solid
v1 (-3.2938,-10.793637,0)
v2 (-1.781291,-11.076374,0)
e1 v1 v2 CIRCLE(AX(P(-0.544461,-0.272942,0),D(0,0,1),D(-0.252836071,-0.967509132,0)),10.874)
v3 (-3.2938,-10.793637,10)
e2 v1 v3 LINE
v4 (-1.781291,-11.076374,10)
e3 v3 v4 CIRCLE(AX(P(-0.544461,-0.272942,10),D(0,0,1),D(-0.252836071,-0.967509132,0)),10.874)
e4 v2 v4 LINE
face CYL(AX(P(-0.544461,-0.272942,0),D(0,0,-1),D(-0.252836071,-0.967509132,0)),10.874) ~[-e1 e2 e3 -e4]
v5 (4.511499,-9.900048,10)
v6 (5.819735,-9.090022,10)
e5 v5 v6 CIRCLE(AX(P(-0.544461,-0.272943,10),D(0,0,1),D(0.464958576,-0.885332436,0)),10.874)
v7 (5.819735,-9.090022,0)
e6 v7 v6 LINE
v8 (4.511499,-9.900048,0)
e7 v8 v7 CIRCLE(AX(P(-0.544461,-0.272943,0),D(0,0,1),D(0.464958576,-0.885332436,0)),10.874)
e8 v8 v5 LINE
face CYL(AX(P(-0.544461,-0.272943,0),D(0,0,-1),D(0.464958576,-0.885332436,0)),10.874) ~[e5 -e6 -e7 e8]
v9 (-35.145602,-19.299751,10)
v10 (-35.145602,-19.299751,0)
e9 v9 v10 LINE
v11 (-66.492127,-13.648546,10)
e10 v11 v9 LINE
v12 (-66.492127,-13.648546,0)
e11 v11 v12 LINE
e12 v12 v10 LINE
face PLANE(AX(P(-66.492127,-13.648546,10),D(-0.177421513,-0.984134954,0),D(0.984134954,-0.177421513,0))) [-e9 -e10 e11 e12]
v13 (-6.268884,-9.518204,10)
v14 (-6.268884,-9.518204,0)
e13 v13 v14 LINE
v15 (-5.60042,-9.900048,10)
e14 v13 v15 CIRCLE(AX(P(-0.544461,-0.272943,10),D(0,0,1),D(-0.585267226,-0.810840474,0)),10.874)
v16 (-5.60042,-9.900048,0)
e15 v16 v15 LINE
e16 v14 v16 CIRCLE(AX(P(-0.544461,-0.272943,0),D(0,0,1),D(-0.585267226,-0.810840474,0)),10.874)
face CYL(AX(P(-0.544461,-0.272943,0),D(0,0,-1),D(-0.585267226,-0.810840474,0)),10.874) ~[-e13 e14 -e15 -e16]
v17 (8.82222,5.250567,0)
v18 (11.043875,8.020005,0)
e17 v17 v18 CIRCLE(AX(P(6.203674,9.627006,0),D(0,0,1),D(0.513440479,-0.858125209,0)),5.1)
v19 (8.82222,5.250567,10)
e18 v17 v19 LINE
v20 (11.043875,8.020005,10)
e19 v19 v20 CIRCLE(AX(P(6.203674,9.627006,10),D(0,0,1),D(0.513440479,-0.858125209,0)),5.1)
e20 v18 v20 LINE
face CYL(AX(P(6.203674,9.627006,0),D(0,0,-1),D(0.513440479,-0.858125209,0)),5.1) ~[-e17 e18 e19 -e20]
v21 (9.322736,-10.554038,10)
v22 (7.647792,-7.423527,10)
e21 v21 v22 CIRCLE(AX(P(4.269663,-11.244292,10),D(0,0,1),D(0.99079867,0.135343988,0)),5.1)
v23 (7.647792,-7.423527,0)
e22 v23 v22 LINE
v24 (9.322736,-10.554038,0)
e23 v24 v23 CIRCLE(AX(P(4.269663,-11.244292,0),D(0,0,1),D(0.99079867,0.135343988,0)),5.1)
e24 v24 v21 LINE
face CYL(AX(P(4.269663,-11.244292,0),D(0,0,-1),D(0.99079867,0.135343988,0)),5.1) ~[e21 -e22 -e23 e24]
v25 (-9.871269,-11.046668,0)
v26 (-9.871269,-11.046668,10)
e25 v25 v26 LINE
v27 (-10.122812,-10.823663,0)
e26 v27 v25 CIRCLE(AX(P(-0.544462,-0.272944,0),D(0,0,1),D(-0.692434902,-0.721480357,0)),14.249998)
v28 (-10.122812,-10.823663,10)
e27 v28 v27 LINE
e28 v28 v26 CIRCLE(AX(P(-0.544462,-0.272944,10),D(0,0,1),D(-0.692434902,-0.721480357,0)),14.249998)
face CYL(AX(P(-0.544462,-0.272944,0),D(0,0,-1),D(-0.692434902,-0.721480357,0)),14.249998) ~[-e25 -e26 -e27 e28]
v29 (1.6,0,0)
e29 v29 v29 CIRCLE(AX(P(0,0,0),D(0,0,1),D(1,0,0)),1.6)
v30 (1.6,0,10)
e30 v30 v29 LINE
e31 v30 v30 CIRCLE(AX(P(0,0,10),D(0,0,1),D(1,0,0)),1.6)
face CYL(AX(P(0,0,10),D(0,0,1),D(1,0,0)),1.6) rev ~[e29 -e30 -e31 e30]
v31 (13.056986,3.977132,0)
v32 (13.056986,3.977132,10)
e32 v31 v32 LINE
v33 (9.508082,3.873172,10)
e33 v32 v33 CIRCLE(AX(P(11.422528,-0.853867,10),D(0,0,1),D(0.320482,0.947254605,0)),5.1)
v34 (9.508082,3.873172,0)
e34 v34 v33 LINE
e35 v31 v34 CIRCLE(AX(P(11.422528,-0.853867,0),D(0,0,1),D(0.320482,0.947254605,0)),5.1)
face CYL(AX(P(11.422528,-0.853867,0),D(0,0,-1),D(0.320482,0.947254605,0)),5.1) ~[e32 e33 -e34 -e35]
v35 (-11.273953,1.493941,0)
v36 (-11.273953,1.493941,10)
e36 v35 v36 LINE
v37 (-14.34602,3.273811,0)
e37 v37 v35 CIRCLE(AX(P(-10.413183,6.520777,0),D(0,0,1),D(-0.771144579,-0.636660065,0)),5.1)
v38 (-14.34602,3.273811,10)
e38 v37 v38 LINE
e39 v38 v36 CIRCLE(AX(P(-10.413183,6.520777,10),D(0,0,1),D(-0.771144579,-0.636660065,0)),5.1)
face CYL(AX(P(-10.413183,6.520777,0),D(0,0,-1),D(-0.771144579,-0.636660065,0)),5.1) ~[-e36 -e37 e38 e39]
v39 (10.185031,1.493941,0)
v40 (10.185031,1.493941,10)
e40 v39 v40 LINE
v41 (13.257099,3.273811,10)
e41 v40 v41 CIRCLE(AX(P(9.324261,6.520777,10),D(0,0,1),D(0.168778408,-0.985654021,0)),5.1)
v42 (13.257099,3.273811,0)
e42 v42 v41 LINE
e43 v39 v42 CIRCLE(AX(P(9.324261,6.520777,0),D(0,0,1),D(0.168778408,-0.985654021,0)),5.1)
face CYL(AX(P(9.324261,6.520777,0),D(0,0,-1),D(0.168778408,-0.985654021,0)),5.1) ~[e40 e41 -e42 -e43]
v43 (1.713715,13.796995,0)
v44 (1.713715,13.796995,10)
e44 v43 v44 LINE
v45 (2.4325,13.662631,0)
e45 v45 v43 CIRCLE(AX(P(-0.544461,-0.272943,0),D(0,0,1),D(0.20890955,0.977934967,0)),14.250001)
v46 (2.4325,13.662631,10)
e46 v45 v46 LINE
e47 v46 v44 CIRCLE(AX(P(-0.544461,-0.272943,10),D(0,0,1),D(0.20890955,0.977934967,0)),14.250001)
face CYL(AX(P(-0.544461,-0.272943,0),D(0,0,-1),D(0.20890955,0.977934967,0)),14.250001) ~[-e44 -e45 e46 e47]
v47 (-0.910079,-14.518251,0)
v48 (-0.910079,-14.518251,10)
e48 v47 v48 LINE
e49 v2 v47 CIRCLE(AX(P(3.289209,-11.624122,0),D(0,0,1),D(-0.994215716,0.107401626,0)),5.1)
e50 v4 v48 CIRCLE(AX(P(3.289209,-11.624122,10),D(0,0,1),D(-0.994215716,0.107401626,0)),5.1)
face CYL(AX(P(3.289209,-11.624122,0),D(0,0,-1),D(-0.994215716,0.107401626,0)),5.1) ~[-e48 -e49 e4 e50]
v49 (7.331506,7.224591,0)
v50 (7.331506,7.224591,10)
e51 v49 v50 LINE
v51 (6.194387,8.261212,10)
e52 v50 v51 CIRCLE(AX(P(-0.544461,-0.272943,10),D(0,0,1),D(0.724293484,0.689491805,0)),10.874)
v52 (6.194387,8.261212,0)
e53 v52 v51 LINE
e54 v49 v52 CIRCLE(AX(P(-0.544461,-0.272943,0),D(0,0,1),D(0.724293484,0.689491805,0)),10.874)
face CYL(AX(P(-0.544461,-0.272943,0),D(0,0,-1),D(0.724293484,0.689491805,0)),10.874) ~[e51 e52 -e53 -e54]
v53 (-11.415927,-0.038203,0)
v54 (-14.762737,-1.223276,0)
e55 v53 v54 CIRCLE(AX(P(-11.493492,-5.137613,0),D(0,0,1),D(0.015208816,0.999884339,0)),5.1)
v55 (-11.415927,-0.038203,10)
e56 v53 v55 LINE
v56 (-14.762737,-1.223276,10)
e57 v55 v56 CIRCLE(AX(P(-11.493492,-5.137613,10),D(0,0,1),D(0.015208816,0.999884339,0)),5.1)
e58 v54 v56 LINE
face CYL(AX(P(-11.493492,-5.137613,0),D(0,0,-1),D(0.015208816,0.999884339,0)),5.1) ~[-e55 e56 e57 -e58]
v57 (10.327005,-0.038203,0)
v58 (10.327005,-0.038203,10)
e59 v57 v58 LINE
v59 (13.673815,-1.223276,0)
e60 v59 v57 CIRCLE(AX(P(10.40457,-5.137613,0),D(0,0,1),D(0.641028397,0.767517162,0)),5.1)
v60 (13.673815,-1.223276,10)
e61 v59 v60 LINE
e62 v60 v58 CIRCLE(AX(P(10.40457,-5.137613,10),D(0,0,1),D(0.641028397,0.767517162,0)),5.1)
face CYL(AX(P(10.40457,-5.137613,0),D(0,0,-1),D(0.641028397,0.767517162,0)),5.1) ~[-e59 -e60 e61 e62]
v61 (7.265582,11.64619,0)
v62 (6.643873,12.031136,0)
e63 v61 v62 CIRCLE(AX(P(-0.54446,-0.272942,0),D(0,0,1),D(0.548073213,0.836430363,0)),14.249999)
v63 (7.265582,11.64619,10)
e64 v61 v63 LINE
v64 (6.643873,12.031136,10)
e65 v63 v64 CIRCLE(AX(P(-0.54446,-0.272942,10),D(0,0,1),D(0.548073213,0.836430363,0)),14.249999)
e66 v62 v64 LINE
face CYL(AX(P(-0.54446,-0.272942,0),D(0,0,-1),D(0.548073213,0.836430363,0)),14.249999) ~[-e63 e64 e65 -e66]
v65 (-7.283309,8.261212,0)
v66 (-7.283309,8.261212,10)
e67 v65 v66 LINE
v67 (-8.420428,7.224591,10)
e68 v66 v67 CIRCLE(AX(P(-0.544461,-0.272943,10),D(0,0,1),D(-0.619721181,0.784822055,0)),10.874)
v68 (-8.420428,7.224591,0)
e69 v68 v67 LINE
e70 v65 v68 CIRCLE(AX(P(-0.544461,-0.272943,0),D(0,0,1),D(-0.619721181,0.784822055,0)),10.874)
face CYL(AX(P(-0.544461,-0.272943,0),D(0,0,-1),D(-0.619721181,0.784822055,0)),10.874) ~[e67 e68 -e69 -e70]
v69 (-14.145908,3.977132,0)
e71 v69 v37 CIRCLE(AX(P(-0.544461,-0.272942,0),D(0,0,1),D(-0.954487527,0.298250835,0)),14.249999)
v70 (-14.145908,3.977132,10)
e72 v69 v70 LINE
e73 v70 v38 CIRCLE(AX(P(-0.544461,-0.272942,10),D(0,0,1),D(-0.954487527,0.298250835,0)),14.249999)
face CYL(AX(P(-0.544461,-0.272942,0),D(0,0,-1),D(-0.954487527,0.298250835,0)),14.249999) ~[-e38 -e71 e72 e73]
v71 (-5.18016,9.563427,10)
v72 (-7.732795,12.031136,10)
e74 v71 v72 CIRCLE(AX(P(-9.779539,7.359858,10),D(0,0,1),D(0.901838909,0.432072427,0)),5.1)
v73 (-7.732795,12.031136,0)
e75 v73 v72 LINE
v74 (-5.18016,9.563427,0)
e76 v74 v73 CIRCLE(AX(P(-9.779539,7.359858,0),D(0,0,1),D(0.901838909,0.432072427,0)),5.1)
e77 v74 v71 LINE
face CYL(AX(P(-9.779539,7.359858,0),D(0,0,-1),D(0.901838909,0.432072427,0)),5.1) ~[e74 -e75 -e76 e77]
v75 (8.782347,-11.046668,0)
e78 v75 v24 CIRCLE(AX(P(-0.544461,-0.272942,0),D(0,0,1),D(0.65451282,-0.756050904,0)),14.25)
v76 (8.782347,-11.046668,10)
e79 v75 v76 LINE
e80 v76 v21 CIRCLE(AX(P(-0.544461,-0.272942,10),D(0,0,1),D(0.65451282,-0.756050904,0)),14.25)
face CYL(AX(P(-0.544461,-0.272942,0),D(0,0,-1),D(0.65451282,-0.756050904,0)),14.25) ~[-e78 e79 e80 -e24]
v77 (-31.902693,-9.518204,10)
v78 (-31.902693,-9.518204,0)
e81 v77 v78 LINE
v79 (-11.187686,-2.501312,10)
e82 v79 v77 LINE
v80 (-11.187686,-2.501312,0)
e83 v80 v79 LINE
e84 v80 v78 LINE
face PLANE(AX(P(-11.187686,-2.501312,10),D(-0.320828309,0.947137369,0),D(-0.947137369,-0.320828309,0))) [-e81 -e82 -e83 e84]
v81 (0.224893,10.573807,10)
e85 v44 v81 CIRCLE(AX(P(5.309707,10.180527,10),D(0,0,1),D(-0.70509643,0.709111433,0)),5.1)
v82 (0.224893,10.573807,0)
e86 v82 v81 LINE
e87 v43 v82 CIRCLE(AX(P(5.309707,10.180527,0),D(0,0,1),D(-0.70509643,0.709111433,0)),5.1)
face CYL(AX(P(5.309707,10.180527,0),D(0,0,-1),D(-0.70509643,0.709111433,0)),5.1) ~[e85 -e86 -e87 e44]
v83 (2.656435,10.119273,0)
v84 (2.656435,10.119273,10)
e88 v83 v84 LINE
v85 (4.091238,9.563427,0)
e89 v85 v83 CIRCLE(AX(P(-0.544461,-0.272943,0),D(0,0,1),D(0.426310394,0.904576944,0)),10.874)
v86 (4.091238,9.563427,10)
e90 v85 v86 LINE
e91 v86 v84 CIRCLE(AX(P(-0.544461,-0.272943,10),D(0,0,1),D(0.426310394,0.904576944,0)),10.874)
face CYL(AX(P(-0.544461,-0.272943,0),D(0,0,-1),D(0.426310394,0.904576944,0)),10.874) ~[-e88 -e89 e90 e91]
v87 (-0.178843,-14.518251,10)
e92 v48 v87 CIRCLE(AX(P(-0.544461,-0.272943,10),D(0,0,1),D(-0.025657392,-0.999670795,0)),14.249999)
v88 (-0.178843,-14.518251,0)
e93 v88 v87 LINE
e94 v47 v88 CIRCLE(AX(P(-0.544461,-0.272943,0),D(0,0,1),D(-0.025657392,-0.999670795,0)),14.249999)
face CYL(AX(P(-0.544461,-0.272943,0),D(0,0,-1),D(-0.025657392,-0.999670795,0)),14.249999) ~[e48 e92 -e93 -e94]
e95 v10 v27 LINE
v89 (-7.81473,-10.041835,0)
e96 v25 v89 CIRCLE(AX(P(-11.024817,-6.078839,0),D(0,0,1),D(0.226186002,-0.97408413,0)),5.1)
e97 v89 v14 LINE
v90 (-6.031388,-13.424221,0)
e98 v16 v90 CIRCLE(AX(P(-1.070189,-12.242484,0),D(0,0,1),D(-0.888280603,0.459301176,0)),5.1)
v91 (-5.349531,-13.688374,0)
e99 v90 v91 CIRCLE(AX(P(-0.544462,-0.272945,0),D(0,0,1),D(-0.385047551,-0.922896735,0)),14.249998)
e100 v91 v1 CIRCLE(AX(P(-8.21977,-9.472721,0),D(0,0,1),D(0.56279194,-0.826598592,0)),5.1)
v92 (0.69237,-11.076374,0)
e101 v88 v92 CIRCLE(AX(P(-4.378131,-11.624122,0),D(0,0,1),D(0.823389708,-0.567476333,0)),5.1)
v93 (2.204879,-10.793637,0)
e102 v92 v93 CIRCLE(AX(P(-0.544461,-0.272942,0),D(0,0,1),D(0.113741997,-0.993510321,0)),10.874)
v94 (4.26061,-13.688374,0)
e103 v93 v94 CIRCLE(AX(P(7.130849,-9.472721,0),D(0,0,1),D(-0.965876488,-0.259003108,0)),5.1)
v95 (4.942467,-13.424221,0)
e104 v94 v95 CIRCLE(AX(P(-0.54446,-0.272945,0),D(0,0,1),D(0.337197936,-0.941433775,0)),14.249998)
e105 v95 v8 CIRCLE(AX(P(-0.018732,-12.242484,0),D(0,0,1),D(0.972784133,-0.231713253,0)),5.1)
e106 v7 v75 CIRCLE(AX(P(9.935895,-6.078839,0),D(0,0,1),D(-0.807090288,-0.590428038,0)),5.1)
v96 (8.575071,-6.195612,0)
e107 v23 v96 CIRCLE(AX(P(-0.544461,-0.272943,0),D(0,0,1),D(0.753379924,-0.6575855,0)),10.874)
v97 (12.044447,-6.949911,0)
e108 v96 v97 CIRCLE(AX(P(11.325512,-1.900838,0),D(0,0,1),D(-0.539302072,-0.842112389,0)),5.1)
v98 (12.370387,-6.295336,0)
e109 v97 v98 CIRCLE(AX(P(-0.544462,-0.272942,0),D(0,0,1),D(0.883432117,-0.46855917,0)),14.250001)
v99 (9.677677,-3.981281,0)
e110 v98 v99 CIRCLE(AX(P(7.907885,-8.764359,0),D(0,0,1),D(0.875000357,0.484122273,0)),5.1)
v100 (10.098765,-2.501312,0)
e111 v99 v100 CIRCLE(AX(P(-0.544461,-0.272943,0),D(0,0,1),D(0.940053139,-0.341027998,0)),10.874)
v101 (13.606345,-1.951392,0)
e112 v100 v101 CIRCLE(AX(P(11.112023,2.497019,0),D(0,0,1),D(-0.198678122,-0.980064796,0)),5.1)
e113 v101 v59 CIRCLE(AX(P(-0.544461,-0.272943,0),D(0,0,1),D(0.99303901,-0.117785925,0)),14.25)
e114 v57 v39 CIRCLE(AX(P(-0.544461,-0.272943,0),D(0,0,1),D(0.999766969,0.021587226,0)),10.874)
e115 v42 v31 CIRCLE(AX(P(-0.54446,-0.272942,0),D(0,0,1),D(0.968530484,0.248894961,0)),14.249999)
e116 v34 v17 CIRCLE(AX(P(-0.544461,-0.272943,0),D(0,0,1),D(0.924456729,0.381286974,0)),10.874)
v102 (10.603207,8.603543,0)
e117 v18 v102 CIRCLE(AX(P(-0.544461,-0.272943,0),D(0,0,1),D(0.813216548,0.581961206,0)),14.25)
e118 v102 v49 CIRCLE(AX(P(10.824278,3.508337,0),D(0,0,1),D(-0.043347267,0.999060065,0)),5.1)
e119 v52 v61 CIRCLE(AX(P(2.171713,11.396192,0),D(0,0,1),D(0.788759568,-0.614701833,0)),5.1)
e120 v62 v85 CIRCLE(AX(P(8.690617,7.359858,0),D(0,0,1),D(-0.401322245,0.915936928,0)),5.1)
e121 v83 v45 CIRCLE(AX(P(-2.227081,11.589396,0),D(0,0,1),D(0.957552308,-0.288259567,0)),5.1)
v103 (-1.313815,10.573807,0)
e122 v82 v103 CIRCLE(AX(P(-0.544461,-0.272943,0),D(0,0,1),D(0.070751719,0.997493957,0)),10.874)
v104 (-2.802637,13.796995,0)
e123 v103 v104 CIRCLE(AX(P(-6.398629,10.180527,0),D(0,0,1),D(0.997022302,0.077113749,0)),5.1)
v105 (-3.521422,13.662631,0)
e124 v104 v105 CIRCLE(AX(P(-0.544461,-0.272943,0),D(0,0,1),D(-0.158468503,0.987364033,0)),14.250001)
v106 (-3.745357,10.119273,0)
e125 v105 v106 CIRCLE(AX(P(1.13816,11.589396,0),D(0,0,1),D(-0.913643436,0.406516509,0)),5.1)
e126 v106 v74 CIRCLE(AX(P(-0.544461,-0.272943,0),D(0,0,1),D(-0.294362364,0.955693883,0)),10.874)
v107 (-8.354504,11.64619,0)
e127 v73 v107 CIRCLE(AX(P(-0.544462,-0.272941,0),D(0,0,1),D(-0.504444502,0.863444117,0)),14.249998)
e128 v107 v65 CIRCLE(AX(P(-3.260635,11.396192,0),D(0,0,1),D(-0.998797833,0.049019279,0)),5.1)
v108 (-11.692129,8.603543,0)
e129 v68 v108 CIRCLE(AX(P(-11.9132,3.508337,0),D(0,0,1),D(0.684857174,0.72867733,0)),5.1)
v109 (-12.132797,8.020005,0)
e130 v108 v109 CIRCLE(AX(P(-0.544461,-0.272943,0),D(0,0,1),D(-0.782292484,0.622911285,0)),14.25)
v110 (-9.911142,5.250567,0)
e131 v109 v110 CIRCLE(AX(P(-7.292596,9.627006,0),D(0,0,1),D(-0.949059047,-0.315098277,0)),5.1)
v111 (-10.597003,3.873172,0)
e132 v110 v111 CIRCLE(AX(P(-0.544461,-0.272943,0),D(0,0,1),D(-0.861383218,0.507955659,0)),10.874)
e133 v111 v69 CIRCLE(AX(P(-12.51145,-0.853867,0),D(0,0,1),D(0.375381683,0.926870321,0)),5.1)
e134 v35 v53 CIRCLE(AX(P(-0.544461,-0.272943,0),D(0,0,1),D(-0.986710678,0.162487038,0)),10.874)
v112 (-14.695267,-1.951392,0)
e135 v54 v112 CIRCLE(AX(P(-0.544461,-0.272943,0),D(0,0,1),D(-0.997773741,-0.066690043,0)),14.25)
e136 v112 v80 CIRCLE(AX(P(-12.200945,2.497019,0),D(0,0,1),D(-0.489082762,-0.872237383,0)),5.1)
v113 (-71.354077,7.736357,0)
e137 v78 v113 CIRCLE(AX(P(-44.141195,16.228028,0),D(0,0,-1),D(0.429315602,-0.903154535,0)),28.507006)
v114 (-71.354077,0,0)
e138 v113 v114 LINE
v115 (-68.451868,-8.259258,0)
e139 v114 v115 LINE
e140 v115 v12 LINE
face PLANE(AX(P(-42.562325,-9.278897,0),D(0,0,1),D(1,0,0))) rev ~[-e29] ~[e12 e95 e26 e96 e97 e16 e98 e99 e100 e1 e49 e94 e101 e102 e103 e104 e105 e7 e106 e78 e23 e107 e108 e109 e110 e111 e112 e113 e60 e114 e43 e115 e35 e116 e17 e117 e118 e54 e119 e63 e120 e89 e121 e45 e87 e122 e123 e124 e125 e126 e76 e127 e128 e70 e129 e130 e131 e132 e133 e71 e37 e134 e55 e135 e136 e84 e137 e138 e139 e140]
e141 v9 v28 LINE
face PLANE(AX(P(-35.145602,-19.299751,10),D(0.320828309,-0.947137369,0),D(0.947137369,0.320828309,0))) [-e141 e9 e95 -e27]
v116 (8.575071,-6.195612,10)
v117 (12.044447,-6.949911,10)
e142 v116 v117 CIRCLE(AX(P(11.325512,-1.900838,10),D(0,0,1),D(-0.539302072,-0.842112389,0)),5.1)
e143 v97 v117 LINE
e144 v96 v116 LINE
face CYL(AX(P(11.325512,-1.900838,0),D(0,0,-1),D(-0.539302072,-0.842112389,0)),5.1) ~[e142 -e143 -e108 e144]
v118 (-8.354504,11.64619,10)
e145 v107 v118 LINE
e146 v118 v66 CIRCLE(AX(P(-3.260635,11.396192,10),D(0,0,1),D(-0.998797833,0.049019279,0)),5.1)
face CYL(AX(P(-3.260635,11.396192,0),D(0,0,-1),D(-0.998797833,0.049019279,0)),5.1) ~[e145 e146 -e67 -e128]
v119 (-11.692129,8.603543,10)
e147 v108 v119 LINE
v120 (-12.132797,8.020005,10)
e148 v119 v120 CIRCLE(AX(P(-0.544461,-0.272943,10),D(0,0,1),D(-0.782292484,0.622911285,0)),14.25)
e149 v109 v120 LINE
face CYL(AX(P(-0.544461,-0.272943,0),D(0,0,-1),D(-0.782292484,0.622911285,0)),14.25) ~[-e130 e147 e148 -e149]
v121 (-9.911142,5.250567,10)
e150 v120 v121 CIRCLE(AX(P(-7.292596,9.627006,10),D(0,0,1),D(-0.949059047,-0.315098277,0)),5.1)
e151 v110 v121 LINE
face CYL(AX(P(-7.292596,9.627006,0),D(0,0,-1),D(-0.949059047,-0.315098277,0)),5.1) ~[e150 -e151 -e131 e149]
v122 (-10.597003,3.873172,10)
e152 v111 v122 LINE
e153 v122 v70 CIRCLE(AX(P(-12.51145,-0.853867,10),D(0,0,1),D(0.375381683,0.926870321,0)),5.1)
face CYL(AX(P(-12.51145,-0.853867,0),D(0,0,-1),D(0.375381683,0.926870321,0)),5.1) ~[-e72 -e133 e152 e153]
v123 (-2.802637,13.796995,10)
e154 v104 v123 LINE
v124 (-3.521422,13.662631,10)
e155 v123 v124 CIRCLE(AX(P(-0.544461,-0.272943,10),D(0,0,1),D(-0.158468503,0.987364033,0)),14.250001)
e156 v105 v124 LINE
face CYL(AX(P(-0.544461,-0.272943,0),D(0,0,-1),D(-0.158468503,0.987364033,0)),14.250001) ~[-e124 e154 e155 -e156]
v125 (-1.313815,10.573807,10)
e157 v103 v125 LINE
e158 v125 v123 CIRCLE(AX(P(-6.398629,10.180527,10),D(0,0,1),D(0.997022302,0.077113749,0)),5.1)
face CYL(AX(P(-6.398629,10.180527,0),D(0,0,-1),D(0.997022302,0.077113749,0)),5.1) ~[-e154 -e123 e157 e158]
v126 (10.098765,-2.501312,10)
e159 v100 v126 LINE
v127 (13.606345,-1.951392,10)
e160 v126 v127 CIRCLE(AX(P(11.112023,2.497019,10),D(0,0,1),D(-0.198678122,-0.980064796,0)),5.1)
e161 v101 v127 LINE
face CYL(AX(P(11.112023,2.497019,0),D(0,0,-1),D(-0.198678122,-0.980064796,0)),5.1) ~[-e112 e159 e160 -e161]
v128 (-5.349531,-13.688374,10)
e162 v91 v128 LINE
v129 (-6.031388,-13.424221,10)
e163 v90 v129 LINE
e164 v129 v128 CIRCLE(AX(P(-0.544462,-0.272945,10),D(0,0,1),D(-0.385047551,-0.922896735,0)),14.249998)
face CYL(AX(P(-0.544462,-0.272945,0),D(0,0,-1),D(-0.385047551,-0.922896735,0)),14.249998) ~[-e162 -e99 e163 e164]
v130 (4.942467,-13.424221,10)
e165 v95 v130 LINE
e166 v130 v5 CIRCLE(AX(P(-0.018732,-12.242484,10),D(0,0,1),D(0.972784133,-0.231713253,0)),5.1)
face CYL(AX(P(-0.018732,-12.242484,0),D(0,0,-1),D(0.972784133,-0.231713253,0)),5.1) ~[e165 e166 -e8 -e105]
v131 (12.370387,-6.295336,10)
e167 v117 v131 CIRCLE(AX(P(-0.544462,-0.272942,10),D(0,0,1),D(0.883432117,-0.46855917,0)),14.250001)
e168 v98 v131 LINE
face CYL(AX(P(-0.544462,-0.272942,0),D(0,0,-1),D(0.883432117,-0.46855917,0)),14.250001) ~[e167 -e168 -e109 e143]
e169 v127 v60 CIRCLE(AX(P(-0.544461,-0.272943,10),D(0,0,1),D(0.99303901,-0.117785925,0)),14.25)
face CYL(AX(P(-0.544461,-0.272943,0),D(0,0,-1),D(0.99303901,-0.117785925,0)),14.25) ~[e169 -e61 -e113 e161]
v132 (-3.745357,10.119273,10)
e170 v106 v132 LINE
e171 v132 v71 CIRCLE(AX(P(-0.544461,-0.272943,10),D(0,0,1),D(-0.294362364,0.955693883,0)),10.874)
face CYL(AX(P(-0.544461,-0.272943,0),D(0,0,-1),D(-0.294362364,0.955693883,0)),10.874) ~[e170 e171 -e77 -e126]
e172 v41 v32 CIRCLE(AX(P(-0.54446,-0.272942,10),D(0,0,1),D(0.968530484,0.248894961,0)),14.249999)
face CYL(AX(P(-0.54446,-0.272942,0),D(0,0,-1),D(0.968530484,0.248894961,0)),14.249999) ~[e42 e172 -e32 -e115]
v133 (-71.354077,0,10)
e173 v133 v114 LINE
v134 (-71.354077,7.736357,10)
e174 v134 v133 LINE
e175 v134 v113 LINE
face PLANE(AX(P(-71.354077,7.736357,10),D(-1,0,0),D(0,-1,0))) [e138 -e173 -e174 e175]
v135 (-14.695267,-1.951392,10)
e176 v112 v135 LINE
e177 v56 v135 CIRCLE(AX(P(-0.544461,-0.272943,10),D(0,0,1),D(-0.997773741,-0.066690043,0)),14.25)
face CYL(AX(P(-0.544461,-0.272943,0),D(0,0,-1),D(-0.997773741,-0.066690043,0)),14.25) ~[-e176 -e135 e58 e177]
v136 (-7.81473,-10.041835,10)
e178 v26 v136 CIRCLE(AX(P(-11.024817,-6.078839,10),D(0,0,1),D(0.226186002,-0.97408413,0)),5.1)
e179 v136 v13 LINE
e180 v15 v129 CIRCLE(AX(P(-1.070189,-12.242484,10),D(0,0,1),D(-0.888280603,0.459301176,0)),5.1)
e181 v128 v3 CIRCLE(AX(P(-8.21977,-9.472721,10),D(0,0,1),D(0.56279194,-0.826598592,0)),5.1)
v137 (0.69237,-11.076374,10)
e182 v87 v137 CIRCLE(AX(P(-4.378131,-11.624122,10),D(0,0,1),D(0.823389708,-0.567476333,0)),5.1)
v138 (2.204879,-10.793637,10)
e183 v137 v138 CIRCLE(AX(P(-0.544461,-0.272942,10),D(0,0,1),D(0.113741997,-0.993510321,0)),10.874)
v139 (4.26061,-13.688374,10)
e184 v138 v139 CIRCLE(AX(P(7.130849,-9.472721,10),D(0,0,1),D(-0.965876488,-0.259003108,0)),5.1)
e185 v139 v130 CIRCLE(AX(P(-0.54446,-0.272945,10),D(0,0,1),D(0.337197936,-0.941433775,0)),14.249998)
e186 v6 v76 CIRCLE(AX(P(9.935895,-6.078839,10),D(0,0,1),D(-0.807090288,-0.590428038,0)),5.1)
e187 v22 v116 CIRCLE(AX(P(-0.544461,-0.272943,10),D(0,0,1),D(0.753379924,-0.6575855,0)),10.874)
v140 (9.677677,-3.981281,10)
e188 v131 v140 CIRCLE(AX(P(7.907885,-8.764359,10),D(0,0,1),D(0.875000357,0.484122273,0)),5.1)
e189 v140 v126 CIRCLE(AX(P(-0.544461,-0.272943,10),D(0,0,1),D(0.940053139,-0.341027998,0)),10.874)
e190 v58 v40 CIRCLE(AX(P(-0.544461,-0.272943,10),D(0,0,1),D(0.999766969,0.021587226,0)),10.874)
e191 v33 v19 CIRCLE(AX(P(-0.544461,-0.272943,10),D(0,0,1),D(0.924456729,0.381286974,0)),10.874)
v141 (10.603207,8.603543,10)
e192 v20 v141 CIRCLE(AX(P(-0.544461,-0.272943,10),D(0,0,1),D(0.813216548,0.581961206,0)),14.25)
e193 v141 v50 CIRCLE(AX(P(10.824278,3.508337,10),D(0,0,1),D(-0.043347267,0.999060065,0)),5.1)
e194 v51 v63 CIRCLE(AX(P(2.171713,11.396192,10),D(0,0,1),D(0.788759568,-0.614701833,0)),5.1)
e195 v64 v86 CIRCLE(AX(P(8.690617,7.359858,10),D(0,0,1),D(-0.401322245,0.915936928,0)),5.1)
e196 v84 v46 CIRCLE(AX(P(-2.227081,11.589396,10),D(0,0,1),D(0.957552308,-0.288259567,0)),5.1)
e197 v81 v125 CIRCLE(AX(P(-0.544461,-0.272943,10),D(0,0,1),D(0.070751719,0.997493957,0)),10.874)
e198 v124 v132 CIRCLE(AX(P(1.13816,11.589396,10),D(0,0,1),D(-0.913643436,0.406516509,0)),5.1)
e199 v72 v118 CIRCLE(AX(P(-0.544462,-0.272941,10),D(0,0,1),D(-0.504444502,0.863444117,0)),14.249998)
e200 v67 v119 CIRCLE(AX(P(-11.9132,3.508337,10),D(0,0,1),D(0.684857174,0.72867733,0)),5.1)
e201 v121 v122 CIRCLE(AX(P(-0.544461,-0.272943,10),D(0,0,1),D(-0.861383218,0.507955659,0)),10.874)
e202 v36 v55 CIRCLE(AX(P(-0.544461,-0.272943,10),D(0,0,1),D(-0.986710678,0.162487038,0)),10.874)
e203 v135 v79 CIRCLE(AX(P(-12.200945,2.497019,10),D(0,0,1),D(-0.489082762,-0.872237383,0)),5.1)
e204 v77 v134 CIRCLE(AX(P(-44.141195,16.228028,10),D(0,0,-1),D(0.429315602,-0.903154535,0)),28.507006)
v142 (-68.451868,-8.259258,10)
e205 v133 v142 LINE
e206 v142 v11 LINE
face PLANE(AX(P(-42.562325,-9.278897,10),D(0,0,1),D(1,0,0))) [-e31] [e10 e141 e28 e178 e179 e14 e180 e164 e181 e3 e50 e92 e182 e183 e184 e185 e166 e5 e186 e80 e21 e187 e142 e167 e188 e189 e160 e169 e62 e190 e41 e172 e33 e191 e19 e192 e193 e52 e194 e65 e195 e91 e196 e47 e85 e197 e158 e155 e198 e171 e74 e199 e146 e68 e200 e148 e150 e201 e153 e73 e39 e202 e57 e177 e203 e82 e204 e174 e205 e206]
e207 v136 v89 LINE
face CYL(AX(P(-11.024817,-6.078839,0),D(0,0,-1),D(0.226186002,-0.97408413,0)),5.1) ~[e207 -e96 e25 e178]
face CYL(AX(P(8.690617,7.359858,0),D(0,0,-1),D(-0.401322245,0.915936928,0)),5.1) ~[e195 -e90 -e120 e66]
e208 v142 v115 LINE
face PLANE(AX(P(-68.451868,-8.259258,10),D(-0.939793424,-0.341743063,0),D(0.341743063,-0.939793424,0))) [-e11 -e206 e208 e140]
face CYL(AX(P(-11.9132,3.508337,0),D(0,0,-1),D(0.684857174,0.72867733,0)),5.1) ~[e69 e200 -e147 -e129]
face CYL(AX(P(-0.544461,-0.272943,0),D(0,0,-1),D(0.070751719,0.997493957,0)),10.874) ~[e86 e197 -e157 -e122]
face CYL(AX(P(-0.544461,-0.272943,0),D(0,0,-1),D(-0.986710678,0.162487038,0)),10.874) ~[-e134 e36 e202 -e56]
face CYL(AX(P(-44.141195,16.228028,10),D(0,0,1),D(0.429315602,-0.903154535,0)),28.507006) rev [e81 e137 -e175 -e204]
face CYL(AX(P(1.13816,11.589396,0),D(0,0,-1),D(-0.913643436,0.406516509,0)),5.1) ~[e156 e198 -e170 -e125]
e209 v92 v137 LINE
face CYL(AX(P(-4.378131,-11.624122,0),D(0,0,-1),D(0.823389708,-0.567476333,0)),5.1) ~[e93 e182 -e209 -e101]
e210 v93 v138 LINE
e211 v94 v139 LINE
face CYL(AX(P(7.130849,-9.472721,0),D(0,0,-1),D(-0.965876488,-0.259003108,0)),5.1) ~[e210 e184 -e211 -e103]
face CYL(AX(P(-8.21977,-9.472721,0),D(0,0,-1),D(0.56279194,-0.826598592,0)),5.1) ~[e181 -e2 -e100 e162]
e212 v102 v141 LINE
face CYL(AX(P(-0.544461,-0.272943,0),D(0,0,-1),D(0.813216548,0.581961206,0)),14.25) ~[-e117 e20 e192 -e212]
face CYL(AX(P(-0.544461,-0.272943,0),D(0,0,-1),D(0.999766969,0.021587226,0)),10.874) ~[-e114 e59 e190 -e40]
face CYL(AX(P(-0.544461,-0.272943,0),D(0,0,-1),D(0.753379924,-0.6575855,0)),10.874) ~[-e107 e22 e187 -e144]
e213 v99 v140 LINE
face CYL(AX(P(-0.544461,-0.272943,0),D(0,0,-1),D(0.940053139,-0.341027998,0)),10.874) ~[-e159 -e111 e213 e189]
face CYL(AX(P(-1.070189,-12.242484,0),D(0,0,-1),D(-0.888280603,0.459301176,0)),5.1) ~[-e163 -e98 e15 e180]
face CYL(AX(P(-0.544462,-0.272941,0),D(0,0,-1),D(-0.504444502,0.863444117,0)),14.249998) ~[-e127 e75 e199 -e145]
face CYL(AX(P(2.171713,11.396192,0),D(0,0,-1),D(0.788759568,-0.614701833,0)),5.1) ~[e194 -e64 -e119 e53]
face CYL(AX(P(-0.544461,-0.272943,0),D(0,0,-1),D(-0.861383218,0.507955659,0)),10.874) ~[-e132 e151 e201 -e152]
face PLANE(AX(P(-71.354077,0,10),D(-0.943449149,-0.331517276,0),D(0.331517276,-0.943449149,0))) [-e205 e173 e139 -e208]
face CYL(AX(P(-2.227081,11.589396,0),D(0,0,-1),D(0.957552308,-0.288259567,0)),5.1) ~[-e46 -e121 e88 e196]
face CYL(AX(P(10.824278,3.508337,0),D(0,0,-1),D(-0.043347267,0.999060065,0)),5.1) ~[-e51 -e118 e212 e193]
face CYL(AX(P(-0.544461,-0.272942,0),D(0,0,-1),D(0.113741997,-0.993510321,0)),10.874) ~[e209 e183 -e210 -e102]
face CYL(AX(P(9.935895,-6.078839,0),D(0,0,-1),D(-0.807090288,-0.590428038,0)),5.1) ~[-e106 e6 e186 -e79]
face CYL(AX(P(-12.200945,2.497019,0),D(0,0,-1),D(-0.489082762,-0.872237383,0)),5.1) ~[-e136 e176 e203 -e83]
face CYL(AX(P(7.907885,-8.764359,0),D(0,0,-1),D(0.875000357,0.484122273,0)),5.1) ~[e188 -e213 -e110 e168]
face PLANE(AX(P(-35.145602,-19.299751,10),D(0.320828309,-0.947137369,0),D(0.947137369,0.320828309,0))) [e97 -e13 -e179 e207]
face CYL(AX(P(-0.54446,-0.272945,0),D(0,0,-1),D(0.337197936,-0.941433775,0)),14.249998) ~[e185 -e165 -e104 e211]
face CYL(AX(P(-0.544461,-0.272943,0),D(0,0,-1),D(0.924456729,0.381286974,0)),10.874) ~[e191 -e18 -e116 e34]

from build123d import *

# Parameters (mm, degrees)
EXTRUDE_1_DEPTH     = 10
SKETCH_2_R          = 1.6
CUT_EXTRUDE_1_DEPTH = 10
EXTRUDE_2_DEPTH     = 10


with BuildPart() as part:
    # 草图1 → 凸台-拉伸1 (new body)
    with BuildSketch(Plane.XY):
        with BuildLine():
            ThreePointArc((-14.346020253, 3.273810573), (-12.969870434, 2.10791515), (-11.273952779, 1.493941396))
            ThreePointArc((-11.273952779, 1.493941396), (-11.372074296, 0.730383496), (-11.41592688, -0.03820316))
            ThreePointArc((-11.41592688, -0.03820316), (-13.195785695, -0.330098793), (-14.762736671, -1.223275765))
            ThreePointArc((-14.762736671, -1.223275765), (-14.733672875, -1.587766767), (-14.695266759, -1.951392075))
            ThreePointArc((-14.695266759, -1.951392075), (-12.990875263, -2.541434526), (-11.187686245, -2.501311882))
            ThreePointArc((-11.187686245, -2.501311882), (-11.003352906, -3.248753999), (-10.766598699, -3.981281092))
            ThreePointArc((-10.766598699, -3.981281092), (-12.320822752, -4.896424828), (-13.459308284, -6.295335531))
            ThreePointArc((-13.459308284, -6.295335531), (-13.300537764, -6.624714214), (-13.133368515, -6.949910827))
            ThreePointArc((-13.133368515, -6.949910827), (-11.33092286, -6.884411803), (-9.663993147, -6.195611546))
            ThreePointArc((-9.663993147, -6.195611546), (-9.222100192, -6.825991681), (-8.736714161, -7.423527369))
            ThreePointArc((-8.736714161, -7.423527369), (-9.855396881, -8.838323974), (-10.411658189, -10.554037767))
            ThreePointArc((-10.411658189, -10.554037767), (-10.144623785, -10.803819715), (-9.871268536, -11.046668027))
            ThreePointArc((-9.871268536, -11.046668027), (-8.214198994, -10.334473534), (-6.908656681, -9.090021956))
            ThreePointArc((-6.908656681, -9.090021956), (-6.268884202, -9.518203778), (-5.600420419, -9.900047555))
            ThreePointArc((-5.600420419, -9.900047555), (-6.132477506, -11.62342091), (-6.031388419, -13.424221137))
            ThreePointArc((-6.031388419, -13.424221137), (-5.692154606, -13.560671914), (-5.349531499, -13.688373915))
            ThreePointArc((-5.349531499, -13.688373915), (-4.061634494, -12.425669766), (-3.293800304, -10.793636948))
            ThreePointArc((-3.293800304, -10.793636948), (-2.542553119, -10.96179213), (-1.781291324, -11.076373878))
            ThreePointArc((-1.781291324, -11.076373878), (-1.65486552, -12.87557286), (-0.910078679, -14.518251473))
            ThreePointArc((-0.910078679, -14.518251473), (-0.544460863, -14.522942645), (-0.178843046, -14.518251473))
            ThreePointArc((-0.178843046, -14.518251473), (0.565943794, -12.87557286), (0.692369599, -11.076373878))
            ThreePointArc((0.692369599, -11.076373878), (1.453631394, -10.96179213), (2.204878579, -10.793636948))
            ThreePointArc((2.204878579, -10.793636948), (2.972712769, -12.425669766), (4.260609774, -13.688373915))
            ThreePointArc((4.260609774, -13.688373915), (4.603232881, -13.560671914), (4.942466694, -13.424221137))
            ThreePointArc((4.942466694, -13.424221137), (5.043555781, -11.62342091), (4.511498694, -9.900047555))
            ThreePointArc((4.511498694, -9.900047555), (5.179962477, -9.518203778), (5.819734956, -9.090021956))
            ThreePointArc((5.819734956, -9.090021956), (7.125277269, -10.334473534), (8.782346811, -11.046668027))
            ThreePointArc((8.782346811, -11.046668027), (9.055702059, -10.803819715), (9.322736464, -10.554037767))
            ThreePointArc((9.322736464, -10.554037767), (8.766475155, -8.838323974), (7.647792436, -7.423527369))
            ThreePointArc((7.647792436, -7.423527369), (8.133178467, -6.825991681), (8.575071422, -6.195611546))
            ThreePointArc((8.575071422, -6.195611546), (10.242001135, -6.884411803), (12.04444679, -6.949910827))
            ThreePointArc((12.04444679, -6.949910827), (12.211616039, -6.624714214), (12.370386559, -6.295335531))
            ThreePointArc((12.370386559, -6.295335531), (11.231901027, -4.896424828), (9.677676974, -3.981281092))
            ThreePointArc((9.677676974, -3.981281092), (9.914431181, -3.248753999), (10.09876452, -2.501311882))
            ThreePointArc((10.09876452, -2.501311882), (11.901953538, -2.541434526), (13.606345034, -1.951392075))
            ThreePointArc((13.606345034, -1.951392075), (13.64475115, -1.587766767), (13.673814946, -1.223275765))
            ThreePointArc((13.673814946, -1.223275765), (12.10686397, -0.330098793), (10.327005155, -0.03820316))
            ThreePointArc((10.327005155, -0.03820316), (10.28315257, 0.730383496), (10.185031054, 1.493941396))
            ThreePointArc((10.185031054, 1.493941396), (11.880948709, 2.10791515), (13.257098528, 3.273810573))
            ThreePointArc((13.257098528, 3.273810573), (13.161554553, 3.626754964), (13.056986399, 3.977131755))
            ThreePointArc((13.056986399, 3.977131755), (11.273195392, 4.243946496), (9.50808161, 3.873171904))
            ThreePointArc((9.50808161, 3.873171904), (9.189544768, 4.574016236), (8.822220251, 5.250567193))
            ThreePointArc((8.822220251, 5.250567193), (10.181823465, 6.435716787), (11.04387495, 8.020004545))
            ThreePointArc((11.04387495, 8.020004545), (10.827284626, 8.314600924), (10.603207031, 8.603543177))
            ThreePointArc((10.603207031, 8.603543177), (8.843486852, 8.207960878), (7.3315065, 7.224591224))
            ThreePointArc((7.3315065, 7.224591224), (6.781305566, 7.763040321), (6.19438726, 8.26121238))
            ThreePointArc((6.19438726, 8.26121238), (7.034054087, 9.857476795), (7.265582407, 11.646190047))
            ThreePointArc((7.265582407, 11.646190047), (6.957197458, 11.84265154), (6.643873342, 12.031136003))
            ThreePointArc((6.643873342, 12.031136003), (5.145883953, 11.026582245), (4.091238356, 9.563427049))
            ThreePointArc((4.091238356, 9.563427049), (3.383681016, 9.866760378), (2.65643549, 10.119272641))
            ThreePointArc((2.65643549, 10.119272641), (2.86276427, 11.911067522), (2.432500244, 13.662630633))
            ThreePointArc((2.432500244, 13.662630633), (2.073969766, 13.734424026), (1.713715288, 13.796994828))
            ThreePointArc((1.713715288, 13.796994828), (0.679768455, 12.319140163), (0.224893345, 10.573806643))
            ThreePointArc((0.224893345, 10.573806643), (-0.544460863, 10.601057355), (-1.31381507, 10.573806643))
            ThreePointArc((-1.31381507, 10.573806643), (-1.76869018, 12.319140163), (-2.802637013, 13.796994828))
            ThreePointArc((-2.802637013, 13.796994828), (-3.162891491, 13.734424026), (-3.521421969, 13.662630633))
            ThreePointArc((-3.521421969, 13.662630633), (-3.951685995, 11.911067522), (-3.745357215, 10.119272641))
            ThreePointArc((-3.745357215, 10.119272641), (-4.472602741, 9.866760378), (-5.180160081, 9.563427049))
            ThreePointArc((-5.180160081, 9.563427049), (-6.234805678, 11.026582245), (-7.732795067, 12.031136003))
            ThreePointArc((-7.732795067, 12.031136003), (-8.046119184, 11.84265154), (-8.354504132, 11.646190047))
            ThreePointArc((-8.354504132, 11.646190047), (-8.122975812, 9.857476795), (-7.283308985, 8.26121238))
            ThreePointArc((-7.283308985, 8.26121238), (-7.870227292, 7.763040321), (-8.420428225, 7.224591224))
            ThreePointArc((-8.420428225, 7.224591224), (-9.932408577, 8.207960878), (-11.692128756, 8.603543177))
            ThreePointArc((-11.692128756, 8.603543177), (-11.916206351, 8.314600924), (-12.132796675, 8.020004545))
            ThreePointArc((-12.132796675, 8.020004545), (-11.27074519, 6.435716787), (-9.911141976, 5.250567193))
            ThreePointArc((-9.911141976, 5.250567193), (-10.278466493, 4.574016236), (-10.597003335, 3.873171904))
            ThreePointArc((-10.597003335, 3.873171904), (-12.362117117, 4.243946496), (-14.145908124, 3.977131755))
            ThreePointArc((-14.145908124, 3.977131755), (-14.250476278, 3.626754964), (-14.346020253, 3.273810573))
        make_face()
    extrude(amount=EXTRUDE_1_DEPTH)

    # 草图2 → 切除-拉伸1 (cut)
    with BuildSketch(Plane.XY.offset(10)):
        Circle(SKETCH_2_R)
    extrude(amount=-CUT_EXTRUDE_1_DEPTH, mode=Mode.SUBTRACT)

    # 草图3 → 凸台-拉伸2 (add)
    with BuildSketch(Plane.XY.offset(10)):
        with BuildLine():
            Line((-35.145602395, -19.299750751), (-6.268884202, -9.518203778))
            Line((-6.268884202, -9.518203778), (-11.187686245, -2.501311882))
            Line((-11.187686245, -2.501311882), (-31.902692825, -9.518203778))
            ThreePointArc((-31.902692825, -9.518203778), (-55.564328736, -9.890192083), (-71.354077075, 7.736357117))
            Line((-71.354077075, 7.736357117), (-71.354077075, 0))
            Line((-71.354077075, 0), (-68.451868042, -8.25925779))
            Line((-68.451868042, -8.25925779), (-66.492126744, -13.648546361))
            Line((-66.492126744, -13.648546361), (-35.145602395, -19.299750751))
        make_face()
    extrude(amount=-EXTRUDE_2_DEPTH)


solid = part.part
